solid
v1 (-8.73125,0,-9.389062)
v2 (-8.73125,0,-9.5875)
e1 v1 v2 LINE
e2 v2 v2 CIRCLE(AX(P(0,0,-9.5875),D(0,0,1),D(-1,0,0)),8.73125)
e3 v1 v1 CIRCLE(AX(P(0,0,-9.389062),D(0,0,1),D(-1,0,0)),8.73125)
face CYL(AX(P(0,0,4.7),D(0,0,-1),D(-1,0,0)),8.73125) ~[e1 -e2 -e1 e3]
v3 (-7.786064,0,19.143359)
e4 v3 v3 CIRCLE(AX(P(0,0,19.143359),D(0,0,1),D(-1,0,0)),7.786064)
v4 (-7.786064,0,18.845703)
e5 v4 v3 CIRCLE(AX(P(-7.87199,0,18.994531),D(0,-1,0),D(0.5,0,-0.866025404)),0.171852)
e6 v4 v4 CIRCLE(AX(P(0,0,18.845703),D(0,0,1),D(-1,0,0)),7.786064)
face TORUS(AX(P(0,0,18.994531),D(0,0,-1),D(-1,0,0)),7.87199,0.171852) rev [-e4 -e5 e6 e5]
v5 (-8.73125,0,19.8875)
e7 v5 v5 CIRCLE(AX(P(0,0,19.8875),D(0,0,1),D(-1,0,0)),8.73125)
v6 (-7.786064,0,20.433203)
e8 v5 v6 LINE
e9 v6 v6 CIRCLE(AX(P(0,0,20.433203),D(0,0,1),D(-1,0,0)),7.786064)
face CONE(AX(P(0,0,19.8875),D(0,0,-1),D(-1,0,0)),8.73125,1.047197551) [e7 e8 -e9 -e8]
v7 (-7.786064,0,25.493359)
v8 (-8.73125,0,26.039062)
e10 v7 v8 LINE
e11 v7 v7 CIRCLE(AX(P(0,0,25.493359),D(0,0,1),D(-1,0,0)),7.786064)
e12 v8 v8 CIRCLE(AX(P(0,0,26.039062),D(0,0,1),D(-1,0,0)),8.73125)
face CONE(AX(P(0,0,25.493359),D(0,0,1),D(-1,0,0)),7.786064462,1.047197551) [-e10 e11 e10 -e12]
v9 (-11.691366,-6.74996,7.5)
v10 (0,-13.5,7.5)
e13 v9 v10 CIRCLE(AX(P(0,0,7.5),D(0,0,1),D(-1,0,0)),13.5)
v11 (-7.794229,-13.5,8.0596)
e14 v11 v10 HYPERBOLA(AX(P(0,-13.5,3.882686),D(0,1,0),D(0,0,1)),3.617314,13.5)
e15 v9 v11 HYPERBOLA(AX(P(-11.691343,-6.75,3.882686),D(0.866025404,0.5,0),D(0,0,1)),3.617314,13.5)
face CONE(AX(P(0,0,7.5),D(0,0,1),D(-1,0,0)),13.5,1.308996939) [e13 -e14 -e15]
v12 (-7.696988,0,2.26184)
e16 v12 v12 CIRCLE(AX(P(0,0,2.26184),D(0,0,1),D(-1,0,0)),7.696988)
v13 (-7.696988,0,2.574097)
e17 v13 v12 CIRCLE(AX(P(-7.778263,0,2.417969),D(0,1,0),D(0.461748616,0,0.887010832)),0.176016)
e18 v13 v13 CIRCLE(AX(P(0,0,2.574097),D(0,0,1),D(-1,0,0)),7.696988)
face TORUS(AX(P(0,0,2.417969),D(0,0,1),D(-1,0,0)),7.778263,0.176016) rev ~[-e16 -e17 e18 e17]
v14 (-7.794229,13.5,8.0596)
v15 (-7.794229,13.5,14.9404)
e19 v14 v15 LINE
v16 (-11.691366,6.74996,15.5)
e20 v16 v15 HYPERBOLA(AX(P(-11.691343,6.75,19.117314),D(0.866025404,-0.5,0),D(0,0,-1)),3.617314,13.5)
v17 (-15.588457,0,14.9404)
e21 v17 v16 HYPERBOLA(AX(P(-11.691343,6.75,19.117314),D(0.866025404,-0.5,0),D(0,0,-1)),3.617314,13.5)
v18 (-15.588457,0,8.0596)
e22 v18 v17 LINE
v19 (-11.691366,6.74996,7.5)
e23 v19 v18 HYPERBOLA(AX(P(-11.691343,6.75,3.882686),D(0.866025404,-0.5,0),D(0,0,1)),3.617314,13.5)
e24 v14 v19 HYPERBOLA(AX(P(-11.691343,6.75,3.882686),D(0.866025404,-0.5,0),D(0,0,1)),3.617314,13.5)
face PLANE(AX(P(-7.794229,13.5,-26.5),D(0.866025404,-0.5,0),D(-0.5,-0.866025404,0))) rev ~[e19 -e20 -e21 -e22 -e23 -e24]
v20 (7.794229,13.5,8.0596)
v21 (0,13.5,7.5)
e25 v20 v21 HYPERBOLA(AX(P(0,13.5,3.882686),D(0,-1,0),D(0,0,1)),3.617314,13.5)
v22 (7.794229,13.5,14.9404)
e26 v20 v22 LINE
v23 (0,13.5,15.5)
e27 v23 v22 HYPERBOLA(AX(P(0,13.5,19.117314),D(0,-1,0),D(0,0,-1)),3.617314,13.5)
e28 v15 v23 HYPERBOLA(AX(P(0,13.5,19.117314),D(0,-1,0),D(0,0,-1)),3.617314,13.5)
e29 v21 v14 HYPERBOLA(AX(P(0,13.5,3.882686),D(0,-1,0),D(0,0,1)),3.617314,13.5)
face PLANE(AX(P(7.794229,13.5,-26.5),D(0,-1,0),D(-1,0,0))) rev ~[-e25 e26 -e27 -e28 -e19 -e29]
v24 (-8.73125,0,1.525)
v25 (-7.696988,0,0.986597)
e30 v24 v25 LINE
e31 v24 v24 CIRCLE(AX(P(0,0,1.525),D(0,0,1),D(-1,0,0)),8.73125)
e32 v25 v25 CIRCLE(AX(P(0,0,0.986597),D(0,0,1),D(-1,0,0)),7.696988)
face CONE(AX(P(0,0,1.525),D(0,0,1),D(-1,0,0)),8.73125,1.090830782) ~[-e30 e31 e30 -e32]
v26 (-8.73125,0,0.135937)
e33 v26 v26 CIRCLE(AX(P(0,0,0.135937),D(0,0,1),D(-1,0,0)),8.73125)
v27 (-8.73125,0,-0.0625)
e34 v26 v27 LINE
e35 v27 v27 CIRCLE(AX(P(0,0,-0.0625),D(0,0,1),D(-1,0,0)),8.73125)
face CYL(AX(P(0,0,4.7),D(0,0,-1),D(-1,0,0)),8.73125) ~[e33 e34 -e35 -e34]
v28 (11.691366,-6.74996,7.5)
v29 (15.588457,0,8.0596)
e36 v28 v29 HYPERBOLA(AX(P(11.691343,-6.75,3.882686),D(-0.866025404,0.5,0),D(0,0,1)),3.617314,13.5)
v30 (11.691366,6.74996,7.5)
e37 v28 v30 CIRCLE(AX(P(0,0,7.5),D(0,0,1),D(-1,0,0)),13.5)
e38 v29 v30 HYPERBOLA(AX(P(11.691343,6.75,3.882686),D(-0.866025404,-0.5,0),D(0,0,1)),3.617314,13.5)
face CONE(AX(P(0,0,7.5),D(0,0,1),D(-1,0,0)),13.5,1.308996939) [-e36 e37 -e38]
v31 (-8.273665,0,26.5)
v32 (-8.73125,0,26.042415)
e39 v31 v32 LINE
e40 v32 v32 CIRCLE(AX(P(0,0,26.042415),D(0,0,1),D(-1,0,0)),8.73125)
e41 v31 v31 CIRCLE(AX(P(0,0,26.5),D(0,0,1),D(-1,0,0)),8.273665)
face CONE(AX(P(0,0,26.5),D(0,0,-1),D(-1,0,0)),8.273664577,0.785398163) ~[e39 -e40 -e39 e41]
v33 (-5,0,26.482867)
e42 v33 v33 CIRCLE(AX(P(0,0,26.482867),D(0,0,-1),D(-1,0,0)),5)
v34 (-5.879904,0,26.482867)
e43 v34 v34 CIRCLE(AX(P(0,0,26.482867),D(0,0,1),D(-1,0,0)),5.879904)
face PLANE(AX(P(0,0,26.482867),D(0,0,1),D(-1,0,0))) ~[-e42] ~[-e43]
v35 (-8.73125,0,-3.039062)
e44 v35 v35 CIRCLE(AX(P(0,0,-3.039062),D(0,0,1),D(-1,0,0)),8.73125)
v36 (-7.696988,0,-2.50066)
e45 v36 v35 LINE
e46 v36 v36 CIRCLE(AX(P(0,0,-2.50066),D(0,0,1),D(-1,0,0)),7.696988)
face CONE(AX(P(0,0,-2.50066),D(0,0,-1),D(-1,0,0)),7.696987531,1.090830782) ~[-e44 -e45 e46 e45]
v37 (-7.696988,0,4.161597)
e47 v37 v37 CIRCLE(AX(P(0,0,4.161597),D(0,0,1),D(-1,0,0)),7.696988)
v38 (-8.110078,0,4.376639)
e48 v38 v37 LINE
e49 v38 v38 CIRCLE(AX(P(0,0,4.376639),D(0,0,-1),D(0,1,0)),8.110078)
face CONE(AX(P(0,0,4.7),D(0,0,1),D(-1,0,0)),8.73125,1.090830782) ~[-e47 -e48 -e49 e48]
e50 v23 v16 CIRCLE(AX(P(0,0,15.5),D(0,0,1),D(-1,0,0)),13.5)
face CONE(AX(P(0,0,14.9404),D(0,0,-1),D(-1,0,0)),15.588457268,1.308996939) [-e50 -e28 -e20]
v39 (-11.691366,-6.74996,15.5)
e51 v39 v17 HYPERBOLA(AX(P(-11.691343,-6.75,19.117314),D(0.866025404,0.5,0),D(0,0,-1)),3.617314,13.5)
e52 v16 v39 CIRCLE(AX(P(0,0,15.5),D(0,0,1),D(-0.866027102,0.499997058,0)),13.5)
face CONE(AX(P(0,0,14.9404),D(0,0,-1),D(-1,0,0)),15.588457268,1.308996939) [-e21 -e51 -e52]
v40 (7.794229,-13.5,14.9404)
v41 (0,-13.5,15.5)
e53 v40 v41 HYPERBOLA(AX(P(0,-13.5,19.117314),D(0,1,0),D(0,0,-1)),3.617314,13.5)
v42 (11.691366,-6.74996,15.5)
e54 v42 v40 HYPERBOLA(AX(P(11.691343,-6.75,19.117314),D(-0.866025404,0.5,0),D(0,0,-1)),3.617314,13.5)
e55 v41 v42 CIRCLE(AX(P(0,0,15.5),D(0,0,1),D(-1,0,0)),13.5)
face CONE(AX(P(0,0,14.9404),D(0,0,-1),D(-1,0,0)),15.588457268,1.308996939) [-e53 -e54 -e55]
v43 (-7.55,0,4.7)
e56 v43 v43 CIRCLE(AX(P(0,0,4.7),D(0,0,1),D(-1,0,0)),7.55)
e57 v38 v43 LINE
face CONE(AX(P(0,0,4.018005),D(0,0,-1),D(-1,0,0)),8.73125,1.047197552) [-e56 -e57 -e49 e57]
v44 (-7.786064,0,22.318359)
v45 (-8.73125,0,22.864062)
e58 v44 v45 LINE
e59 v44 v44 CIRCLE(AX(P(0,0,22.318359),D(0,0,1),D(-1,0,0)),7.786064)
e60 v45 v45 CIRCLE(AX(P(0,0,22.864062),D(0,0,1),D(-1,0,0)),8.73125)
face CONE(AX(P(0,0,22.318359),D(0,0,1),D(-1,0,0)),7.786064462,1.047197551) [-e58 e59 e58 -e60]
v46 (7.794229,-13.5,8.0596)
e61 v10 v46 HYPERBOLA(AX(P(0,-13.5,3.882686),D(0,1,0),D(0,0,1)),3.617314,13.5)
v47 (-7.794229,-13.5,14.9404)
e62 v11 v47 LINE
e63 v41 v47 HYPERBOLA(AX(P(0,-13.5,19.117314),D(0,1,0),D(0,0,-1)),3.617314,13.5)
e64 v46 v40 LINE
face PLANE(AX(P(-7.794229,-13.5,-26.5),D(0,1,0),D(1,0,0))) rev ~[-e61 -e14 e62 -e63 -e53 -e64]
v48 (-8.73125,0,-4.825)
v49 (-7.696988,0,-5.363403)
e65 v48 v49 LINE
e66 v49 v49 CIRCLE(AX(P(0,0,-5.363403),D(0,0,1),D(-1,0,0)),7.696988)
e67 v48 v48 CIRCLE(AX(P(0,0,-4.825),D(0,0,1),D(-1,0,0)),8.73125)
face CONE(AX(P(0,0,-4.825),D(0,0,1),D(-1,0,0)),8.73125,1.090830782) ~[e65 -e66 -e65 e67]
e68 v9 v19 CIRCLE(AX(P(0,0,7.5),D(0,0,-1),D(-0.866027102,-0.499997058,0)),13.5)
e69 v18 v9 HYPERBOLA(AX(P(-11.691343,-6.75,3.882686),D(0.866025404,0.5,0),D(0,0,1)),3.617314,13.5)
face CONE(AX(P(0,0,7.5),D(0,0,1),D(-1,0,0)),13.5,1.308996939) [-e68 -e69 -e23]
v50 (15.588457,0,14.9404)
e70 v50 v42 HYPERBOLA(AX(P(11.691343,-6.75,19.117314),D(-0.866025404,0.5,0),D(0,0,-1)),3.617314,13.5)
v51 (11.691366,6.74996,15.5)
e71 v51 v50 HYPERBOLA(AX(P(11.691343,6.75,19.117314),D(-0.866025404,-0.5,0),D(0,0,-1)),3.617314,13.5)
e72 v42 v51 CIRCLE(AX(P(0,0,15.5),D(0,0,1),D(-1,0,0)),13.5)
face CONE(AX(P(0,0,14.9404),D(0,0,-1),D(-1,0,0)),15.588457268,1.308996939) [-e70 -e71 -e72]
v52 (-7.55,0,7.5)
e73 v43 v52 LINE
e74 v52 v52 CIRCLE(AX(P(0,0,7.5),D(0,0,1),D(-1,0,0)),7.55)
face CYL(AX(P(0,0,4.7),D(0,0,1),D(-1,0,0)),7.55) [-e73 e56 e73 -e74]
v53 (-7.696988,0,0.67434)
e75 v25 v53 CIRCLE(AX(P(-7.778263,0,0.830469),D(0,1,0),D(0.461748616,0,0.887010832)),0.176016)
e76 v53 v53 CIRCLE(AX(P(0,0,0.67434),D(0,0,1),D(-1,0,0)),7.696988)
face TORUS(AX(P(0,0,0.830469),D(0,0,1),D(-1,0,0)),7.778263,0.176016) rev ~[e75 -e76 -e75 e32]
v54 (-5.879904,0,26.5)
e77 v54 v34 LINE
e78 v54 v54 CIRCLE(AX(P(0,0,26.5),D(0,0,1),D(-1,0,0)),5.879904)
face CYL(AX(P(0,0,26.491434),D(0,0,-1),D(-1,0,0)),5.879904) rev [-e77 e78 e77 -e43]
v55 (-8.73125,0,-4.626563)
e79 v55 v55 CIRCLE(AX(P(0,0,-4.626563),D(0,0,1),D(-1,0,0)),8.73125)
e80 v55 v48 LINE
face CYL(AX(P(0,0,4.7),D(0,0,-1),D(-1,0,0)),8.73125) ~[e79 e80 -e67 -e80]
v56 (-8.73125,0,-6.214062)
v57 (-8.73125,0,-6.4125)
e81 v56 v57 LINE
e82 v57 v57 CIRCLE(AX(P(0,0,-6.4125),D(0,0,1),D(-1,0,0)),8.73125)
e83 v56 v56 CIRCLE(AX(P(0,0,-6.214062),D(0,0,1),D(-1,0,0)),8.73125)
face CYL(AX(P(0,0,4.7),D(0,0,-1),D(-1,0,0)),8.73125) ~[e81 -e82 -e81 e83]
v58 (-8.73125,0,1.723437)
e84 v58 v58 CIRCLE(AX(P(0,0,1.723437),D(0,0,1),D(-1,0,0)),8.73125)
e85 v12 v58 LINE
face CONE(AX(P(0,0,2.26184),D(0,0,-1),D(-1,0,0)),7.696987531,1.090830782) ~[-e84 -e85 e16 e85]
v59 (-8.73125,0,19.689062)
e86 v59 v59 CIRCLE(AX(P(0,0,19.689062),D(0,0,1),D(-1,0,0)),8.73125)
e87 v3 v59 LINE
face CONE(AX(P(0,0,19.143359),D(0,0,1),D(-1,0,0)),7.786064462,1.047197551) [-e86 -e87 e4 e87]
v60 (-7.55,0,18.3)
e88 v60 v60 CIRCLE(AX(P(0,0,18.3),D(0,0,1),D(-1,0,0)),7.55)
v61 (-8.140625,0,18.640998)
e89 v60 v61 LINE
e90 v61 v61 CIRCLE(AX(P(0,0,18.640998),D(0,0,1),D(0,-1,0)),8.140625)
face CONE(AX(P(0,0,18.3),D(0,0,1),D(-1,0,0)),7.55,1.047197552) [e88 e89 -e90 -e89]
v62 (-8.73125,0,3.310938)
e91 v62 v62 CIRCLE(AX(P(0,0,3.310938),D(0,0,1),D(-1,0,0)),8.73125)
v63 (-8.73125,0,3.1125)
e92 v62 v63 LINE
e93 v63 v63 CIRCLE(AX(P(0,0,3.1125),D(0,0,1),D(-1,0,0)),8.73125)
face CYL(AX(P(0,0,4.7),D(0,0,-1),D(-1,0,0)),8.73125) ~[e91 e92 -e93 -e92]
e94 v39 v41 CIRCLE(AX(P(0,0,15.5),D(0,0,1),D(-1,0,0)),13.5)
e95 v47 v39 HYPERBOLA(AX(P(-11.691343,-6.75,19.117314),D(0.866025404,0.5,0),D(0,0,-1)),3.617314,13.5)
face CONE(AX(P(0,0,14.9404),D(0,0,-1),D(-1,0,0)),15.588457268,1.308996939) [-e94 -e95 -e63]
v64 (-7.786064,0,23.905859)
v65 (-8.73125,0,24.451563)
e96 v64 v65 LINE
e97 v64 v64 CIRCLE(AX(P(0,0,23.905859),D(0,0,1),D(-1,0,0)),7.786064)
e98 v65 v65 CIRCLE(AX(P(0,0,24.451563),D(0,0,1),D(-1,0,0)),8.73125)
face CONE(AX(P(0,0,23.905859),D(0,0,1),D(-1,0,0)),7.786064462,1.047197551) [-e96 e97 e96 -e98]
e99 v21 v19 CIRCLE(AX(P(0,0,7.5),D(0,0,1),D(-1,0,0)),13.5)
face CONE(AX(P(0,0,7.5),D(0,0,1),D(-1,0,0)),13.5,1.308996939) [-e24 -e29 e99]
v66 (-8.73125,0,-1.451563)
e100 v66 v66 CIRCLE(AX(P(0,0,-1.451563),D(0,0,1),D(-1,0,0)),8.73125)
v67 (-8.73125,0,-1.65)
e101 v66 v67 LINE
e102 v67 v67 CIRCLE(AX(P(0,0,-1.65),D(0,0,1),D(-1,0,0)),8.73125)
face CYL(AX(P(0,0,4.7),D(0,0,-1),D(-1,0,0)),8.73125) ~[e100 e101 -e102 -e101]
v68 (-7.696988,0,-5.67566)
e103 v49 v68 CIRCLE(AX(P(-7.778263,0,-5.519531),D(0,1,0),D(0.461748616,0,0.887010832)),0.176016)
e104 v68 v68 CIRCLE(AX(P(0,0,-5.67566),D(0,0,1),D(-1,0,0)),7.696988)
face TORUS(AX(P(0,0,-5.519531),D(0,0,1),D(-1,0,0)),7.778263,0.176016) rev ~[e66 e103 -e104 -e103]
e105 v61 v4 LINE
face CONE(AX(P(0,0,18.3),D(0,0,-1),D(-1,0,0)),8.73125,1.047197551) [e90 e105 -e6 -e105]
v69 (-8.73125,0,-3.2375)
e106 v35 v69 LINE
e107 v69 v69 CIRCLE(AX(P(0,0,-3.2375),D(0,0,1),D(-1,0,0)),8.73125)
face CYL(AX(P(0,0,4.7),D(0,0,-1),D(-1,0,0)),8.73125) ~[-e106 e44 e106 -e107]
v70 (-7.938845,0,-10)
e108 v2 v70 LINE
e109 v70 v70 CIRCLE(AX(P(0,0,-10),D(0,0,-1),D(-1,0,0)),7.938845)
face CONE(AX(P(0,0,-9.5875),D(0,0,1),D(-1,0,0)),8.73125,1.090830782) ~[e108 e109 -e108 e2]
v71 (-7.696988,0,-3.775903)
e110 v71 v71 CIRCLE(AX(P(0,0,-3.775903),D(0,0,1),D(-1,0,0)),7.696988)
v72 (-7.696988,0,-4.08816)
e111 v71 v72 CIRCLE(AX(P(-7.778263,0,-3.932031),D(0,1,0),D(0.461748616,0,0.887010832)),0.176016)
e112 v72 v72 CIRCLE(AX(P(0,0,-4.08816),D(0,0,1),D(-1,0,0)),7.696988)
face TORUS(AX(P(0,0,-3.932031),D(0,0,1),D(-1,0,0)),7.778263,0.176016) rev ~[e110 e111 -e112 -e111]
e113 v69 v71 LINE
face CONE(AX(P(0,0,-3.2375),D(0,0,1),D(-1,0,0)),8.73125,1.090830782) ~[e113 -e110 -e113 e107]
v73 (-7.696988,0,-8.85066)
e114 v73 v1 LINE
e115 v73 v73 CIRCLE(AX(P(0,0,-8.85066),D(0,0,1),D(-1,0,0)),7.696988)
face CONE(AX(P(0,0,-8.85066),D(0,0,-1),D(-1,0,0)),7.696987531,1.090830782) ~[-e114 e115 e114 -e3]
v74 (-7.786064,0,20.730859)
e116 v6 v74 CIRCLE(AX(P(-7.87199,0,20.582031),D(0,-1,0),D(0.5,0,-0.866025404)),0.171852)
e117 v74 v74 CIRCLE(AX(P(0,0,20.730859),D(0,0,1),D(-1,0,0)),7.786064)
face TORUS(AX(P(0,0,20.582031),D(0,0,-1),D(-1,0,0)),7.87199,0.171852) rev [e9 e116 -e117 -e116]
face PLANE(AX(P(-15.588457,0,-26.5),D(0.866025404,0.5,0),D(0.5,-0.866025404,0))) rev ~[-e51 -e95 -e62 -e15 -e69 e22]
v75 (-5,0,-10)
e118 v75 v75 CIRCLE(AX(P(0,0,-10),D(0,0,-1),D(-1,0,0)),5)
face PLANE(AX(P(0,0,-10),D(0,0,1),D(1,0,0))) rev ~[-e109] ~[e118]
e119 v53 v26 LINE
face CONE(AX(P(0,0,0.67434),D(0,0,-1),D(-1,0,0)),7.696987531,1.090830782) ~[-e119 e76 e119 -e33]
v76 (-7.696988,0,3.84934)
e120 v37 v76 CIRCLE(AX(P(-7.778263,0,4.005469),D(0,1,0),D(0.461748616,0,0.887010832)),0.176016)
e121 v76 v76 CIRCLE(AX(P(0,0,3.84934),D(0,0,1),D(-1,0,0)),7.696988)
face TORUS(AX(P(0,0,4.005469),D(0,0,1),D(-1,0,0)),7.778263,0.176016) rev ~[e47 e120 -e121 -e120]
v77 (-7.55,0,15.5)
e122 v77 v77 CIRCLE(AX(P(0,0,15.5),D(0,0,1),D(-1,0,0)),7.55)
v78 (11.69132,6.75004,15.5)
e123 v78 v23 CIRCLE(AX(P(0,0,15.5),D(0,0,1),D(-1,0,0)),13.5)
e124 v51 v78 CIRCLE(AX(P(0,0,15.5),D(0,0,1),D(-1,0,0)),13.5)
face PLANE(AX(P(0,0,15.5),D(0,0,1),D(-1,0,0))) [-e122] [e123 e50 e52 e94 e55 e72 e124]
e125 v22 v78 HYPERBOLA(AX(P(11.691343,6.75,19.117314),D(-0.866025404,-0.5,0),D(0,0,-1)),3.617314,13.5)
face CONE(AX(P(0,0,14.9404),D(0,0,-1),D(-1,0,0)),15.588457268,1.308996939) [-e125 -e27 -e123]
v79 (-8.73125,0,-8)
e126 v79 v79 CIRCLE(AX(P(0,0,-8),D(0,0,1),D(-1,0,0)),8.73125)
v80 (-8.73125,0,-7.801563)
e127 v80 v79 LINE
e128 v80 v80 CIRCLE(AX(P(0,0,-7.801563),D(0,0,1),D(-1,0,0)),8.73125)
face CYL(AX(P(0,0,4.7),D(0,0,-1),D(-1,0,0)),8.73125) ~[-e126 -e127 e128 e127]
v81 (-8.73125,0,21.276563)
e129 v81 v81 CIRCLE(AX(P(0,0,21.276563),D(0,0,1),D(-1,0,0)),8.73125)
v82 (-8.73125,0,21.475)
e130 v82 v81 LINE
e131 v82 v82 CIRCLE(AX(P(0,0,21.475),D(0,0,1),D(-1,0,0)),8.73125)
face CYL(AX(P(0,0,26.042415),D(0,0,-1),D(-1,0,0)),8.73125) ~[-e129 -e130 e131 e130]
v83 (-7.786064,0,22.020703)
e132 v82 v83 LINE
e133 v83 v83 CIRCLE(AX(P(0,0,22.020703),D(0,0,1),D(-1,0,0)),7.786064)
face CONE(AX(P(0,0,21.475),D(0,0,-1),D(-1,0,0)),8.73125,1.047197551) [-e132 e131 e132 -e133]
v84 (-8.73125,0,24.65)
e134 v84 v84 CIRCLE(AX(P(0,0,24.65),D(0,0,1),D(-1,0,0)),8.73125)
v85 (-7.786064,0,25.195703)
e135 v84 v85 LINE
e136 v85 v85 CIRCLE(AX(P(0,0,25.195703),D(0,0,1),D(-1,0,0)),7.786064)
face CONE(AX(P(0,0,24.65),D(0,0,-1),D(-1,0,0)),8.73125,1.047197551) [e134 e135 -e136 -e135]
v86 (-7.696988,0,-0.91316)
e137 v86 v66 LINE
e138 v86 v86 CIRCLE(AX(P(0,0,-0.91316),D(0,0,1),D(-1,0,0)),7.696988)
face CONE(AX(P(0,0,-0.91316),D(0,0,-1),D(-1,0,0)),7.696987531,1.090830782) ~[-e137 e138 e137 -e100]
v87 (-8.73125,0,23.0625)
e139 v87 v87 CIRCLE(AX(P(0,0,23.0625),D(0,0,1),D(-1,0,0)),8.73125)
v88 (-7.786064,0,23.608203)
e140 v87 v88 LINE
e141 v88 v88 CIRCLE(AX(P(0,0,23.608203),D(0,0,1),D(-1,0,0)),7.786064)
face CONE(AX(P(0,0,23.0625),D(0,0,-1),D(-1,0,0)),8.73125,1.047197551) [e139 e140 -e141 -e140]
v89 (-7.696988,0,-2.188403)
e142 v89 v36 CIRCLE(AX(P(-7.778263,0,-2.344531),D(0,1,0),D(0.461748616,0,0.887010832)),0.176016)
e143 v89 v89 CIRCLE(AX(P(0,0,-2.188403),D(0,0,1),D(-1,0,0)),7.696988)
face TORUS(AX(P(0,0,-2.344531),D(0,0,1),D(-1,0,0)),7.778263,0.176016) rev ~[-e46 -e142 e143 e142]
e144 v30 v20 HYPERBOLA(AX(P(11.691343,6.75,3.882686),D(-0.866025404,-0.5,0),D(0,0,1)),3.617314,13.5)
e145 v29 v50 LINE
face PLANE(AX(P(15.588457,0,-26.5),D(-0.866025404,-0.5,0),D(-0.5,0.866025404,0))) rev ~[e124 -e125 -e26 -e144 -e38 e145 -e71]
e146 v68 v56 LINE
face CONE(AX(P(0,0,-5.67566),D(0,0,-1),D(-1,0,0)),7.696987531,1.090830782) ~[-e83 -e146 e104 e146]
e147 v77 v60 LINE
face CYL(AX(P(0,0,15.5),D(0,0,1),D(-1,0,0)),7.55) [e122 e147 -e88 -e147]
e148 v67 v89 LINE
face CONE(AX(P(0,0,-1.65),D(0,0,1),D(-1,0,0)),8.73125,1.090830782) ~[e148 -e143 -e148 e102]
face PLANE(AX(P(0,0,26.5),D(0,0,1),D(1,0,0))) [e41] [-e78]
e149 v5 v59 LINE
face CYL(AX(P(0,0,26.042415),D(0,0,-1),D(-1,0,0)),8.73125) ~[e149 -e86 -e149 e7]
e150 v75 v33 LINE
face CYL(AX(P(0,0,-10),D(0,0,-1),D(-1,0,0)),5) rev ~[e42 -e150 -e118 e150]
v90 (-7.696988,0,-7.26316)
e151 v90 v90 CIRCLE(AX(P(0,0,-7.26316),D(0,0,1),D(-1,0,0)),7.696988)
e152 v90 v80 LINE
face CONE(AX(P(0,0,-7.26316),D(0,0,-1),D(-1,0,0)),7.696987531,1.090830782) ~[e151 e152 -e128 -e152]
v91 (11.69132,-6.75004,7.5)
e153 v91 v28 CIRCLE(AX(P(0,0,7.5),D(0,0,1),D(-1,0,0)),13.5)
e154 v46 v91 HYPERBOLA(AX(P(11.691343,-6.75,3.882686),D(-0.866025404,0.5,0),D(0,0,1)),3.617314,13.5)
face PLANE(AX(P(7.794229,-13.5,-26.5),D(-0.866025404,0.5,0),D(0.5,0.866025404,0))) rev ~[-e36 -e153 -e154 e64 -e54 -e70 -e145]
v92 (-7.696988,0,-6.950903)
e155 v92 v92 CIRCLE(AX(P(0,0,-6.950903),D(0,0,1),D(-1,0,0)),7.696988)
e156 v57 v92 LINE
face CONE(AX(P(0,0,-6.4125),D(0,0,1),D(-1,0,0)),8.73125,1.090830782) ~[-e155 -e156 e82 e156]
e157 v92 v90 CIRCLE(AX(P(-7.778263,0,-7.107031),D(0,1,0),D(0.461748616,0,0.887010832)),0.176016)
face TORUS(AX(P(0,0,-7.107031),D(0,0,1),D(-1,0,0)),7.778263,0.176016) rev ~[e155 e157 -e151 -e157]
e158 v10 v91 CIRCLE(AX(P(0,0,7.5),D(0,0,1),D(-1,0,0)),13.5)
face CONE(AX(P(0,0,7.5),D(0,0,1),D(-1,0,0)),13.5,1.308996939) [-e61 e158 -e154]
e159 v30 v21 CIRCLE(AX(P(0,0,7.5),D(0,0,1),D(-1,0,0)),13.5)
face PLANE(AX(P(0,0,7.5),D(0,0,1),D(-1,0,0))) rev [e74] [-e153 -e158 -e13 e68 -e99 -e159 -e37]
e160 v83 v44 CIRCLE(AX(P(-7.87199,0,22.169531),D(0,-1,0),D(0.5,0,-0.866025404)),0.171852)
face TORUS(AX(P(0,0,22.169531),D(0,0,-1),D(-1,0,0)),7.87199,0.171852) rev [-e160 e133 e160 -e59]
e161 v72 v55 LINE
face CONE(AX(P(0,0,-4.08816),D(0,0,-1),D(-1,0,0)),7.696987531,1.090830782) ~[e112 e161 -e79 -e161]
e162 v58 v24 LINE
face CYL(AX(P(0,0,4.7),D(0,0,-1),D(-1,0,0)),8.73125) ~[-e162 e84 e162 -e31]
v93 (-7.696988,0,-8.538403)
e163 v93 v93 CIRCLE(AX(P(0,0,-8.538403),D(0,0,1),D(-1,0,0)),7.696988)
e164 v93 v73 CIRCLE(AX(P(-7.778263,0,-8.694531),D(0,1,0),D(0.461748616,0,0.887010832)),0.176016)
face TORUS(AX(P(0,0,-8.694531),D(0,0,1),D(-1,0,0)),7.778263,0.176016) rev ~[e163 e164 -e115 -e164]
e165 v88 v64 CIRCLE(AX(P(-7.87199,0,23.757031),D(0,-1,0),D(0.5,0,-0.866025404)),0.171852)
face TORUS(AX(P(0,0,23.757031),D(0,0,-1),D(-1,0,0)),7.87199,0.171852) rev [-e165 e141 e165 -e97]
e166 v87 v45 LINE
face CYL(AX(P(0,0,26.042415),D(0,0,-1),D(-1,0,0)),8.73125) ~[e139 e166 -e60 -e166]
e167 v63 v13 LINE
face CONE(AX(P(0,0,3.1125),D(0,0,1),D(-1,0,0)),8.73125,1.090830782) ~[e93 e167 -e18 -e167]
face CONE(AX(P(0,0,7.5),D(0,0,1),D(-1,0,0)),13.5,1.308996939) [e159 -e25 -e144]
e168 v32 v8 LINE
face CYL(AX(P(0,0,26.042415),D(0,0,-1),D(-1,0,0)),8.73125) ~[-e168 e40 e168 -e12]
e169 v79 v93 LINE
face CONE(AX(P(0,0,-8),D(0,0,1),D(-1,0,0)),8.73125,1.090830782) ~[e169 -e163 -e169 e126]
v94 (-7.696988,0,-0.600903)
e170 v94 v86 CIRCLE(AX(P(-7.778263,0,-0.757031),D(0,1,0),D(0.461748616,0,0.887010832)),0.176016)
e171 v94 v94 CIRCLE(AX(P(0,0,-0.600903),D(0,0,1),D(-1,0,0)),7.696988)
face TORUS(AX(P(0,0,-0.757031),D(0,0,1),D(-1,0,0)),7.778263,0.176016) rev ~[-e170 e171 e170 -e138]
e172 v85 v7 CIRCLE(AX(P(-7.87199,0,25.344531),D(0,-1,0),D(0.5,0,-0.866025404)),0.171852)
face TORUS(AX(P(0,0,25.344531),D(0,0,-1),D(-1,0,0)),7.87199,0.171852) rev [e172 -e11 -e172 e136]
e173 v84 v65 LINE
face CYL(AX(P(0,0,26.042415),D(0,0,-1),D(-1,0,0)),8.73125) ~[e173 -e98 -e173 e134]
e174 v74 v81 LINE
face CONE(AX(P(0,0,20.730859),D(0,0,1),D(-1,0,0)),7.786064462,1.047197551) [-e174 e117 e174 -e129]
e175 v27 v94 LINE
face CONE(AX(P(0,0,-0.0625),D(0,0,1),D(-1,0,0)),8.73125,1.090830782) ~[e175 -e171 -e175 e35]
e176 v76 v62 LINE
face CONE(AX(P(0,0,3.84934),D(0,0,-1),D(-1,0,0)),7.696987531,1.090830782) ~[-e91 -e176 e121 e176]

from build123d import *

# Parameters (mm, degrees)
BODY_DEPTH                = 53
THREAD_SIMPLE_RIGHT_COUNT = 20
THREAD_SIMPLE_RIGHT_PITCH = 1.5875
THREAD_SIMPLE_LEFT_COUNT  = 5
THREAD_SIMPLE_LEFT_PITCH  = 1.5875
SKETCH49_W                = 0.01713251
SKETCH49_H                = 0.981520858
SKETCH49_W_2              = 0.016877385
SKETCH49_H_2              = 0.966904756
SKETCH50_R                = 5
CUT_EXTRUDE1_DEPTH        = 36.5


with BuildPart() as part:
    # Sketch5 → Body (new body)
    with BuildSketch(Plane.XY.offset(-26.5)):
        Polygon((15.588457268, 0), (7.794228634, 13.5), (-7.794228634, 13.5), (-15.588457268, 0), (-7.794228634, -13.5), (7.794228634, -13.5), align=None)
    extrude(amount=BODY_DEPTH)

    # Sketch21 → Cut-Body-Thread-Right (revolve, cut)
    with BuildSketch(Plane(origin=(0, 0, 0), x_dir=(0, 0, -1), z_dir=(1, 0, 0)), mode=Mode.PRIVATE) as cut_body_thread_right_sk:
        Polygon((-4.7, 8.73125), (26.042414577, 8.73125), (26.5, 8.273664577), (26.5, 15.588457268), (-4.7, 15.588457268), align=None)
    revolve(cut_body_thread_right_sk.sketch.rotate(Axis((0, 0, -26.5), (0, 0, 1)), 90), axis=Axis((0, 0, -26.5), (0, 0, 1)), mode=Mode.SUBTRACT)

    # Sketch25 → Thread-Single-Right (revolve, cut)
    with BuildSketch(Plane(origin=(0, 0, 0), x_dir=(0, 0, -1), z_dir=(1, 0, 0)), mode=Mode.PRIVATE) as thread_single_right_sk:
        with BuildLine():
            Line((-3.3109375, 8.73125), (-4.7, 8.73125))
            Line((-4.7, 8.73125), (-4.161597037, 7.696987531))
            ThreePointArc((-4.161597037, 7.696987531), (-4.00546875, 7.602246561), (-3.849340463, 7.696987531))
            Line((-3.849340463, 7.696987531), (-3.3109375, 8.73125))
        make_face()
    thread_single_right = revolve(thread_single_right_sk.sketch.rotate(Axis((0, 0, -26.5), (0, 0, 1)), 90), axis=Axis((0, 0, -26.5), (0, 0, 1)), mode=Mode.SUBTRACT)

    # Thread-Simple-Right: Thread-Single-Right ×20
    with Locations(*[(0, 0, -i * THREAD_SIMPLE_RIGHT_PITCH) for i in range(1, THREAD_SIMPLE_RIGHT_COUNT)]):
        add(thread_single_right, mode=Mode.SUBTRACT)

    # Sketch32 → Cut-Body-Thread-Left (revolve, cut)
    with BuildSketch(Plane(origin=(0, 0, 0), x_dir=(0, 0, -1), z_dir=(1, 0, 0)), mode=Mode.PRIVATE) as cut_body_thread_left_sk:
        Polygon((-26.5, 15.588457268), (-26.5, 8.273664577), (-26.042414577, 8.73125), (-18.3, 8.73125), (-18.3, 15.588457268), align=None)
    revolve(cut_body_thread_left_sk.sketch.rotate(Axis((0, 0, -26.5), (0, 0, 1)), 90), axis=Axis((0, 0, -26.5), (0, 0, 1)), mode=Mode.SUBTRACT)

    # Sketch33 → Thread-Single-Left (revolve, cut)
    with BuildSketch(Plane(origin=(0, 0, 0), x_dir=(0, 0, -1), z_dir=(1, 0, 0)), mode=Mode.PRIVATE) as thread_single_left_sk:
        with BuildLine():
            Line((-18.3, 8.73125), (-18.845703125, 7.786064462))
            ThreePointArc((-18.845703125, 7.786064462), (-18.99453125, 7.700138504), (-19.143359375, 7.786064462))
            Line((-19.143359375, 7.786064462), (-19.6890625, 8.73125))
            Line((-19.6890625, 8.73125), (-18.3, 8.73125))
        make_face()
    thread_single_left = revolve(thread_single_left_sk.sketch.rotate(Axis((0, 0, -26.5), (0, 0, 1)), 90), axis=Axis((0, 0, -26.5), (0, 0, 1)), mode=Mode.SUBTRACT)

    # Thread-Simple-Left: Thread-Single-Left ×5
    with Locations(*[(0, 0, i * THREAD_SIMPLE_LEFT_PITCH) for i in range(1, THREAD_SIMPLE_LEFT_COUNT)]):
        add(thread_single_left, mode=Mode.SUBTRACT)

    # Sketch45 → Cut-Connection-Right (revolve, cut)
    with BuildSketch(Plane(origin=(0, 0, 0), x_dir=(0, 0, -1), z_dir=(1, 0, 0)), mode=Mode.PRIVATE) as cut_connection_right_sk:
        Polygon((-4.7, 7.55), (-7.5, 7.55), (-7.5, 13.5), (-8.059600438, 15.588457268), (-4.018004995, 15.588457268), (-4.018004995, 8.73125), align=None)
    revolve(cut_connection_right_sk.sketch.rotate(Axis((0, 0, -26.5), (0, 0, 1)), 90), axis=Axis((0, 0, -26.5), (0, 0, 1)), mode=Mode.SUBTRACT)

    # Sketch46 → Cut-Connection-Left (revolve, cut)
    with BuildSketch(Plane(origin=(0, 0, 0), x_dir=(0, 0, -1), z_dir=(1, 0, 0)), mode=Mode.PRIVATE) as cut_connection_left_sk:
        Polygon((-18.3, 7.55), (-18.981995005, 8.73125), (-18.981995005, 15.588457268), (-14.940399562, 15.588457268), (-15.5, 13.5), (-15.5, 7.55), align=None)
    revolve(cut_connection_left_sk.sketch.rotate(Axis((0, 0, -26.5), (0, 0, 1)), 90), axis=Axis((0, 0, -26.5), (0, 0, 1)), mode=Mode.SUBTRACT)

    # Sketch11 → Cut-Hole-Right (revolve, cut)
    with BuildSketch(Plane(origin=(0, 0, 0), x_dir=(0, 0, -1), z_dir=(0, 1, 0))):
        Polygon((26.5, 3.25), (26.5, 0), (-1.876388375, 0), (0, 3.25), align=None)
    revolve(axis=Axis((0, 0, -26.5), (0, 0, 1)), mode=Mode.SUBTRACT)

    # Sketch16 → Cut-Hole-Left (revolve, cut)
    with BuildSketch(Plane(origin=(0, 0, 0), x_dir=(1, 0, 0), z_dir=(0, 1, 0)), mode=Mode.PRIVATE) as cut_hole_left_sk:
        Polygon((0, 1.876388375), (-3.25, 0), (-3.25, -26.5), (0, -26.5), align=None)
    revolve(cut_hole_left_sk.sketch.rotate(Axis((0, 0, 1.876388375), (0, 0, -1)), 180), axis=Axis((0, 0, 1.876388375), (0, 0, -1)), mode=Mode.SUBTRACT)

    # Sketch49 → o-ring (revolve, cut)
    with BuildSketch(Plane(origin=(0, 0, 0), x_dir=(0, 0, -1), z_dir=(1, 0, 0)), mode=Mode.PRIVATE) as o_ring_sk:
        with Locations((-26.491433745, 5.389143294)):
            Rectangle(SKETCH49_W, SKETCH49_H)
        with Locations((26.491561307, 5.323533941)):
            Rectangle(SKETCH49_W_2, SKETCH49_H_2)
    revolve(o_ring_sk.sketch.rotate(Axis((0, 0, -26.5), (0, 0, 1)), 90), axis=Axis((0, 0, -26.5), (0, 0, 1)), mode=Mode.SUBTRACT)


with BuildPart() as body_2:
    # Split1: the piece on the far side of the plane
    add(part.part)
    split(bisect_by=Plane.XY.offset(-10), keep=Keep.BOTTOM)


with BuildPart() as part_1:
    add(part.part)

    # Split1
    split(bisect_by=Plane.XY.offset(-10), keep=Keep.TOP)

    # Sketch50 → Cut-Extrude1 (cut)
    with BuildSketch(Plane(origin=(0, 0, -10), x_dir=(-1, 0, 0), z_dir=(0, 0, -1))):
        Circle(SKETCH50_R)
    extrude(amount=-CUT_EXTRUDE1_DEPTH, mode=Mode.SUBTRACT)


solid = part_1.part
